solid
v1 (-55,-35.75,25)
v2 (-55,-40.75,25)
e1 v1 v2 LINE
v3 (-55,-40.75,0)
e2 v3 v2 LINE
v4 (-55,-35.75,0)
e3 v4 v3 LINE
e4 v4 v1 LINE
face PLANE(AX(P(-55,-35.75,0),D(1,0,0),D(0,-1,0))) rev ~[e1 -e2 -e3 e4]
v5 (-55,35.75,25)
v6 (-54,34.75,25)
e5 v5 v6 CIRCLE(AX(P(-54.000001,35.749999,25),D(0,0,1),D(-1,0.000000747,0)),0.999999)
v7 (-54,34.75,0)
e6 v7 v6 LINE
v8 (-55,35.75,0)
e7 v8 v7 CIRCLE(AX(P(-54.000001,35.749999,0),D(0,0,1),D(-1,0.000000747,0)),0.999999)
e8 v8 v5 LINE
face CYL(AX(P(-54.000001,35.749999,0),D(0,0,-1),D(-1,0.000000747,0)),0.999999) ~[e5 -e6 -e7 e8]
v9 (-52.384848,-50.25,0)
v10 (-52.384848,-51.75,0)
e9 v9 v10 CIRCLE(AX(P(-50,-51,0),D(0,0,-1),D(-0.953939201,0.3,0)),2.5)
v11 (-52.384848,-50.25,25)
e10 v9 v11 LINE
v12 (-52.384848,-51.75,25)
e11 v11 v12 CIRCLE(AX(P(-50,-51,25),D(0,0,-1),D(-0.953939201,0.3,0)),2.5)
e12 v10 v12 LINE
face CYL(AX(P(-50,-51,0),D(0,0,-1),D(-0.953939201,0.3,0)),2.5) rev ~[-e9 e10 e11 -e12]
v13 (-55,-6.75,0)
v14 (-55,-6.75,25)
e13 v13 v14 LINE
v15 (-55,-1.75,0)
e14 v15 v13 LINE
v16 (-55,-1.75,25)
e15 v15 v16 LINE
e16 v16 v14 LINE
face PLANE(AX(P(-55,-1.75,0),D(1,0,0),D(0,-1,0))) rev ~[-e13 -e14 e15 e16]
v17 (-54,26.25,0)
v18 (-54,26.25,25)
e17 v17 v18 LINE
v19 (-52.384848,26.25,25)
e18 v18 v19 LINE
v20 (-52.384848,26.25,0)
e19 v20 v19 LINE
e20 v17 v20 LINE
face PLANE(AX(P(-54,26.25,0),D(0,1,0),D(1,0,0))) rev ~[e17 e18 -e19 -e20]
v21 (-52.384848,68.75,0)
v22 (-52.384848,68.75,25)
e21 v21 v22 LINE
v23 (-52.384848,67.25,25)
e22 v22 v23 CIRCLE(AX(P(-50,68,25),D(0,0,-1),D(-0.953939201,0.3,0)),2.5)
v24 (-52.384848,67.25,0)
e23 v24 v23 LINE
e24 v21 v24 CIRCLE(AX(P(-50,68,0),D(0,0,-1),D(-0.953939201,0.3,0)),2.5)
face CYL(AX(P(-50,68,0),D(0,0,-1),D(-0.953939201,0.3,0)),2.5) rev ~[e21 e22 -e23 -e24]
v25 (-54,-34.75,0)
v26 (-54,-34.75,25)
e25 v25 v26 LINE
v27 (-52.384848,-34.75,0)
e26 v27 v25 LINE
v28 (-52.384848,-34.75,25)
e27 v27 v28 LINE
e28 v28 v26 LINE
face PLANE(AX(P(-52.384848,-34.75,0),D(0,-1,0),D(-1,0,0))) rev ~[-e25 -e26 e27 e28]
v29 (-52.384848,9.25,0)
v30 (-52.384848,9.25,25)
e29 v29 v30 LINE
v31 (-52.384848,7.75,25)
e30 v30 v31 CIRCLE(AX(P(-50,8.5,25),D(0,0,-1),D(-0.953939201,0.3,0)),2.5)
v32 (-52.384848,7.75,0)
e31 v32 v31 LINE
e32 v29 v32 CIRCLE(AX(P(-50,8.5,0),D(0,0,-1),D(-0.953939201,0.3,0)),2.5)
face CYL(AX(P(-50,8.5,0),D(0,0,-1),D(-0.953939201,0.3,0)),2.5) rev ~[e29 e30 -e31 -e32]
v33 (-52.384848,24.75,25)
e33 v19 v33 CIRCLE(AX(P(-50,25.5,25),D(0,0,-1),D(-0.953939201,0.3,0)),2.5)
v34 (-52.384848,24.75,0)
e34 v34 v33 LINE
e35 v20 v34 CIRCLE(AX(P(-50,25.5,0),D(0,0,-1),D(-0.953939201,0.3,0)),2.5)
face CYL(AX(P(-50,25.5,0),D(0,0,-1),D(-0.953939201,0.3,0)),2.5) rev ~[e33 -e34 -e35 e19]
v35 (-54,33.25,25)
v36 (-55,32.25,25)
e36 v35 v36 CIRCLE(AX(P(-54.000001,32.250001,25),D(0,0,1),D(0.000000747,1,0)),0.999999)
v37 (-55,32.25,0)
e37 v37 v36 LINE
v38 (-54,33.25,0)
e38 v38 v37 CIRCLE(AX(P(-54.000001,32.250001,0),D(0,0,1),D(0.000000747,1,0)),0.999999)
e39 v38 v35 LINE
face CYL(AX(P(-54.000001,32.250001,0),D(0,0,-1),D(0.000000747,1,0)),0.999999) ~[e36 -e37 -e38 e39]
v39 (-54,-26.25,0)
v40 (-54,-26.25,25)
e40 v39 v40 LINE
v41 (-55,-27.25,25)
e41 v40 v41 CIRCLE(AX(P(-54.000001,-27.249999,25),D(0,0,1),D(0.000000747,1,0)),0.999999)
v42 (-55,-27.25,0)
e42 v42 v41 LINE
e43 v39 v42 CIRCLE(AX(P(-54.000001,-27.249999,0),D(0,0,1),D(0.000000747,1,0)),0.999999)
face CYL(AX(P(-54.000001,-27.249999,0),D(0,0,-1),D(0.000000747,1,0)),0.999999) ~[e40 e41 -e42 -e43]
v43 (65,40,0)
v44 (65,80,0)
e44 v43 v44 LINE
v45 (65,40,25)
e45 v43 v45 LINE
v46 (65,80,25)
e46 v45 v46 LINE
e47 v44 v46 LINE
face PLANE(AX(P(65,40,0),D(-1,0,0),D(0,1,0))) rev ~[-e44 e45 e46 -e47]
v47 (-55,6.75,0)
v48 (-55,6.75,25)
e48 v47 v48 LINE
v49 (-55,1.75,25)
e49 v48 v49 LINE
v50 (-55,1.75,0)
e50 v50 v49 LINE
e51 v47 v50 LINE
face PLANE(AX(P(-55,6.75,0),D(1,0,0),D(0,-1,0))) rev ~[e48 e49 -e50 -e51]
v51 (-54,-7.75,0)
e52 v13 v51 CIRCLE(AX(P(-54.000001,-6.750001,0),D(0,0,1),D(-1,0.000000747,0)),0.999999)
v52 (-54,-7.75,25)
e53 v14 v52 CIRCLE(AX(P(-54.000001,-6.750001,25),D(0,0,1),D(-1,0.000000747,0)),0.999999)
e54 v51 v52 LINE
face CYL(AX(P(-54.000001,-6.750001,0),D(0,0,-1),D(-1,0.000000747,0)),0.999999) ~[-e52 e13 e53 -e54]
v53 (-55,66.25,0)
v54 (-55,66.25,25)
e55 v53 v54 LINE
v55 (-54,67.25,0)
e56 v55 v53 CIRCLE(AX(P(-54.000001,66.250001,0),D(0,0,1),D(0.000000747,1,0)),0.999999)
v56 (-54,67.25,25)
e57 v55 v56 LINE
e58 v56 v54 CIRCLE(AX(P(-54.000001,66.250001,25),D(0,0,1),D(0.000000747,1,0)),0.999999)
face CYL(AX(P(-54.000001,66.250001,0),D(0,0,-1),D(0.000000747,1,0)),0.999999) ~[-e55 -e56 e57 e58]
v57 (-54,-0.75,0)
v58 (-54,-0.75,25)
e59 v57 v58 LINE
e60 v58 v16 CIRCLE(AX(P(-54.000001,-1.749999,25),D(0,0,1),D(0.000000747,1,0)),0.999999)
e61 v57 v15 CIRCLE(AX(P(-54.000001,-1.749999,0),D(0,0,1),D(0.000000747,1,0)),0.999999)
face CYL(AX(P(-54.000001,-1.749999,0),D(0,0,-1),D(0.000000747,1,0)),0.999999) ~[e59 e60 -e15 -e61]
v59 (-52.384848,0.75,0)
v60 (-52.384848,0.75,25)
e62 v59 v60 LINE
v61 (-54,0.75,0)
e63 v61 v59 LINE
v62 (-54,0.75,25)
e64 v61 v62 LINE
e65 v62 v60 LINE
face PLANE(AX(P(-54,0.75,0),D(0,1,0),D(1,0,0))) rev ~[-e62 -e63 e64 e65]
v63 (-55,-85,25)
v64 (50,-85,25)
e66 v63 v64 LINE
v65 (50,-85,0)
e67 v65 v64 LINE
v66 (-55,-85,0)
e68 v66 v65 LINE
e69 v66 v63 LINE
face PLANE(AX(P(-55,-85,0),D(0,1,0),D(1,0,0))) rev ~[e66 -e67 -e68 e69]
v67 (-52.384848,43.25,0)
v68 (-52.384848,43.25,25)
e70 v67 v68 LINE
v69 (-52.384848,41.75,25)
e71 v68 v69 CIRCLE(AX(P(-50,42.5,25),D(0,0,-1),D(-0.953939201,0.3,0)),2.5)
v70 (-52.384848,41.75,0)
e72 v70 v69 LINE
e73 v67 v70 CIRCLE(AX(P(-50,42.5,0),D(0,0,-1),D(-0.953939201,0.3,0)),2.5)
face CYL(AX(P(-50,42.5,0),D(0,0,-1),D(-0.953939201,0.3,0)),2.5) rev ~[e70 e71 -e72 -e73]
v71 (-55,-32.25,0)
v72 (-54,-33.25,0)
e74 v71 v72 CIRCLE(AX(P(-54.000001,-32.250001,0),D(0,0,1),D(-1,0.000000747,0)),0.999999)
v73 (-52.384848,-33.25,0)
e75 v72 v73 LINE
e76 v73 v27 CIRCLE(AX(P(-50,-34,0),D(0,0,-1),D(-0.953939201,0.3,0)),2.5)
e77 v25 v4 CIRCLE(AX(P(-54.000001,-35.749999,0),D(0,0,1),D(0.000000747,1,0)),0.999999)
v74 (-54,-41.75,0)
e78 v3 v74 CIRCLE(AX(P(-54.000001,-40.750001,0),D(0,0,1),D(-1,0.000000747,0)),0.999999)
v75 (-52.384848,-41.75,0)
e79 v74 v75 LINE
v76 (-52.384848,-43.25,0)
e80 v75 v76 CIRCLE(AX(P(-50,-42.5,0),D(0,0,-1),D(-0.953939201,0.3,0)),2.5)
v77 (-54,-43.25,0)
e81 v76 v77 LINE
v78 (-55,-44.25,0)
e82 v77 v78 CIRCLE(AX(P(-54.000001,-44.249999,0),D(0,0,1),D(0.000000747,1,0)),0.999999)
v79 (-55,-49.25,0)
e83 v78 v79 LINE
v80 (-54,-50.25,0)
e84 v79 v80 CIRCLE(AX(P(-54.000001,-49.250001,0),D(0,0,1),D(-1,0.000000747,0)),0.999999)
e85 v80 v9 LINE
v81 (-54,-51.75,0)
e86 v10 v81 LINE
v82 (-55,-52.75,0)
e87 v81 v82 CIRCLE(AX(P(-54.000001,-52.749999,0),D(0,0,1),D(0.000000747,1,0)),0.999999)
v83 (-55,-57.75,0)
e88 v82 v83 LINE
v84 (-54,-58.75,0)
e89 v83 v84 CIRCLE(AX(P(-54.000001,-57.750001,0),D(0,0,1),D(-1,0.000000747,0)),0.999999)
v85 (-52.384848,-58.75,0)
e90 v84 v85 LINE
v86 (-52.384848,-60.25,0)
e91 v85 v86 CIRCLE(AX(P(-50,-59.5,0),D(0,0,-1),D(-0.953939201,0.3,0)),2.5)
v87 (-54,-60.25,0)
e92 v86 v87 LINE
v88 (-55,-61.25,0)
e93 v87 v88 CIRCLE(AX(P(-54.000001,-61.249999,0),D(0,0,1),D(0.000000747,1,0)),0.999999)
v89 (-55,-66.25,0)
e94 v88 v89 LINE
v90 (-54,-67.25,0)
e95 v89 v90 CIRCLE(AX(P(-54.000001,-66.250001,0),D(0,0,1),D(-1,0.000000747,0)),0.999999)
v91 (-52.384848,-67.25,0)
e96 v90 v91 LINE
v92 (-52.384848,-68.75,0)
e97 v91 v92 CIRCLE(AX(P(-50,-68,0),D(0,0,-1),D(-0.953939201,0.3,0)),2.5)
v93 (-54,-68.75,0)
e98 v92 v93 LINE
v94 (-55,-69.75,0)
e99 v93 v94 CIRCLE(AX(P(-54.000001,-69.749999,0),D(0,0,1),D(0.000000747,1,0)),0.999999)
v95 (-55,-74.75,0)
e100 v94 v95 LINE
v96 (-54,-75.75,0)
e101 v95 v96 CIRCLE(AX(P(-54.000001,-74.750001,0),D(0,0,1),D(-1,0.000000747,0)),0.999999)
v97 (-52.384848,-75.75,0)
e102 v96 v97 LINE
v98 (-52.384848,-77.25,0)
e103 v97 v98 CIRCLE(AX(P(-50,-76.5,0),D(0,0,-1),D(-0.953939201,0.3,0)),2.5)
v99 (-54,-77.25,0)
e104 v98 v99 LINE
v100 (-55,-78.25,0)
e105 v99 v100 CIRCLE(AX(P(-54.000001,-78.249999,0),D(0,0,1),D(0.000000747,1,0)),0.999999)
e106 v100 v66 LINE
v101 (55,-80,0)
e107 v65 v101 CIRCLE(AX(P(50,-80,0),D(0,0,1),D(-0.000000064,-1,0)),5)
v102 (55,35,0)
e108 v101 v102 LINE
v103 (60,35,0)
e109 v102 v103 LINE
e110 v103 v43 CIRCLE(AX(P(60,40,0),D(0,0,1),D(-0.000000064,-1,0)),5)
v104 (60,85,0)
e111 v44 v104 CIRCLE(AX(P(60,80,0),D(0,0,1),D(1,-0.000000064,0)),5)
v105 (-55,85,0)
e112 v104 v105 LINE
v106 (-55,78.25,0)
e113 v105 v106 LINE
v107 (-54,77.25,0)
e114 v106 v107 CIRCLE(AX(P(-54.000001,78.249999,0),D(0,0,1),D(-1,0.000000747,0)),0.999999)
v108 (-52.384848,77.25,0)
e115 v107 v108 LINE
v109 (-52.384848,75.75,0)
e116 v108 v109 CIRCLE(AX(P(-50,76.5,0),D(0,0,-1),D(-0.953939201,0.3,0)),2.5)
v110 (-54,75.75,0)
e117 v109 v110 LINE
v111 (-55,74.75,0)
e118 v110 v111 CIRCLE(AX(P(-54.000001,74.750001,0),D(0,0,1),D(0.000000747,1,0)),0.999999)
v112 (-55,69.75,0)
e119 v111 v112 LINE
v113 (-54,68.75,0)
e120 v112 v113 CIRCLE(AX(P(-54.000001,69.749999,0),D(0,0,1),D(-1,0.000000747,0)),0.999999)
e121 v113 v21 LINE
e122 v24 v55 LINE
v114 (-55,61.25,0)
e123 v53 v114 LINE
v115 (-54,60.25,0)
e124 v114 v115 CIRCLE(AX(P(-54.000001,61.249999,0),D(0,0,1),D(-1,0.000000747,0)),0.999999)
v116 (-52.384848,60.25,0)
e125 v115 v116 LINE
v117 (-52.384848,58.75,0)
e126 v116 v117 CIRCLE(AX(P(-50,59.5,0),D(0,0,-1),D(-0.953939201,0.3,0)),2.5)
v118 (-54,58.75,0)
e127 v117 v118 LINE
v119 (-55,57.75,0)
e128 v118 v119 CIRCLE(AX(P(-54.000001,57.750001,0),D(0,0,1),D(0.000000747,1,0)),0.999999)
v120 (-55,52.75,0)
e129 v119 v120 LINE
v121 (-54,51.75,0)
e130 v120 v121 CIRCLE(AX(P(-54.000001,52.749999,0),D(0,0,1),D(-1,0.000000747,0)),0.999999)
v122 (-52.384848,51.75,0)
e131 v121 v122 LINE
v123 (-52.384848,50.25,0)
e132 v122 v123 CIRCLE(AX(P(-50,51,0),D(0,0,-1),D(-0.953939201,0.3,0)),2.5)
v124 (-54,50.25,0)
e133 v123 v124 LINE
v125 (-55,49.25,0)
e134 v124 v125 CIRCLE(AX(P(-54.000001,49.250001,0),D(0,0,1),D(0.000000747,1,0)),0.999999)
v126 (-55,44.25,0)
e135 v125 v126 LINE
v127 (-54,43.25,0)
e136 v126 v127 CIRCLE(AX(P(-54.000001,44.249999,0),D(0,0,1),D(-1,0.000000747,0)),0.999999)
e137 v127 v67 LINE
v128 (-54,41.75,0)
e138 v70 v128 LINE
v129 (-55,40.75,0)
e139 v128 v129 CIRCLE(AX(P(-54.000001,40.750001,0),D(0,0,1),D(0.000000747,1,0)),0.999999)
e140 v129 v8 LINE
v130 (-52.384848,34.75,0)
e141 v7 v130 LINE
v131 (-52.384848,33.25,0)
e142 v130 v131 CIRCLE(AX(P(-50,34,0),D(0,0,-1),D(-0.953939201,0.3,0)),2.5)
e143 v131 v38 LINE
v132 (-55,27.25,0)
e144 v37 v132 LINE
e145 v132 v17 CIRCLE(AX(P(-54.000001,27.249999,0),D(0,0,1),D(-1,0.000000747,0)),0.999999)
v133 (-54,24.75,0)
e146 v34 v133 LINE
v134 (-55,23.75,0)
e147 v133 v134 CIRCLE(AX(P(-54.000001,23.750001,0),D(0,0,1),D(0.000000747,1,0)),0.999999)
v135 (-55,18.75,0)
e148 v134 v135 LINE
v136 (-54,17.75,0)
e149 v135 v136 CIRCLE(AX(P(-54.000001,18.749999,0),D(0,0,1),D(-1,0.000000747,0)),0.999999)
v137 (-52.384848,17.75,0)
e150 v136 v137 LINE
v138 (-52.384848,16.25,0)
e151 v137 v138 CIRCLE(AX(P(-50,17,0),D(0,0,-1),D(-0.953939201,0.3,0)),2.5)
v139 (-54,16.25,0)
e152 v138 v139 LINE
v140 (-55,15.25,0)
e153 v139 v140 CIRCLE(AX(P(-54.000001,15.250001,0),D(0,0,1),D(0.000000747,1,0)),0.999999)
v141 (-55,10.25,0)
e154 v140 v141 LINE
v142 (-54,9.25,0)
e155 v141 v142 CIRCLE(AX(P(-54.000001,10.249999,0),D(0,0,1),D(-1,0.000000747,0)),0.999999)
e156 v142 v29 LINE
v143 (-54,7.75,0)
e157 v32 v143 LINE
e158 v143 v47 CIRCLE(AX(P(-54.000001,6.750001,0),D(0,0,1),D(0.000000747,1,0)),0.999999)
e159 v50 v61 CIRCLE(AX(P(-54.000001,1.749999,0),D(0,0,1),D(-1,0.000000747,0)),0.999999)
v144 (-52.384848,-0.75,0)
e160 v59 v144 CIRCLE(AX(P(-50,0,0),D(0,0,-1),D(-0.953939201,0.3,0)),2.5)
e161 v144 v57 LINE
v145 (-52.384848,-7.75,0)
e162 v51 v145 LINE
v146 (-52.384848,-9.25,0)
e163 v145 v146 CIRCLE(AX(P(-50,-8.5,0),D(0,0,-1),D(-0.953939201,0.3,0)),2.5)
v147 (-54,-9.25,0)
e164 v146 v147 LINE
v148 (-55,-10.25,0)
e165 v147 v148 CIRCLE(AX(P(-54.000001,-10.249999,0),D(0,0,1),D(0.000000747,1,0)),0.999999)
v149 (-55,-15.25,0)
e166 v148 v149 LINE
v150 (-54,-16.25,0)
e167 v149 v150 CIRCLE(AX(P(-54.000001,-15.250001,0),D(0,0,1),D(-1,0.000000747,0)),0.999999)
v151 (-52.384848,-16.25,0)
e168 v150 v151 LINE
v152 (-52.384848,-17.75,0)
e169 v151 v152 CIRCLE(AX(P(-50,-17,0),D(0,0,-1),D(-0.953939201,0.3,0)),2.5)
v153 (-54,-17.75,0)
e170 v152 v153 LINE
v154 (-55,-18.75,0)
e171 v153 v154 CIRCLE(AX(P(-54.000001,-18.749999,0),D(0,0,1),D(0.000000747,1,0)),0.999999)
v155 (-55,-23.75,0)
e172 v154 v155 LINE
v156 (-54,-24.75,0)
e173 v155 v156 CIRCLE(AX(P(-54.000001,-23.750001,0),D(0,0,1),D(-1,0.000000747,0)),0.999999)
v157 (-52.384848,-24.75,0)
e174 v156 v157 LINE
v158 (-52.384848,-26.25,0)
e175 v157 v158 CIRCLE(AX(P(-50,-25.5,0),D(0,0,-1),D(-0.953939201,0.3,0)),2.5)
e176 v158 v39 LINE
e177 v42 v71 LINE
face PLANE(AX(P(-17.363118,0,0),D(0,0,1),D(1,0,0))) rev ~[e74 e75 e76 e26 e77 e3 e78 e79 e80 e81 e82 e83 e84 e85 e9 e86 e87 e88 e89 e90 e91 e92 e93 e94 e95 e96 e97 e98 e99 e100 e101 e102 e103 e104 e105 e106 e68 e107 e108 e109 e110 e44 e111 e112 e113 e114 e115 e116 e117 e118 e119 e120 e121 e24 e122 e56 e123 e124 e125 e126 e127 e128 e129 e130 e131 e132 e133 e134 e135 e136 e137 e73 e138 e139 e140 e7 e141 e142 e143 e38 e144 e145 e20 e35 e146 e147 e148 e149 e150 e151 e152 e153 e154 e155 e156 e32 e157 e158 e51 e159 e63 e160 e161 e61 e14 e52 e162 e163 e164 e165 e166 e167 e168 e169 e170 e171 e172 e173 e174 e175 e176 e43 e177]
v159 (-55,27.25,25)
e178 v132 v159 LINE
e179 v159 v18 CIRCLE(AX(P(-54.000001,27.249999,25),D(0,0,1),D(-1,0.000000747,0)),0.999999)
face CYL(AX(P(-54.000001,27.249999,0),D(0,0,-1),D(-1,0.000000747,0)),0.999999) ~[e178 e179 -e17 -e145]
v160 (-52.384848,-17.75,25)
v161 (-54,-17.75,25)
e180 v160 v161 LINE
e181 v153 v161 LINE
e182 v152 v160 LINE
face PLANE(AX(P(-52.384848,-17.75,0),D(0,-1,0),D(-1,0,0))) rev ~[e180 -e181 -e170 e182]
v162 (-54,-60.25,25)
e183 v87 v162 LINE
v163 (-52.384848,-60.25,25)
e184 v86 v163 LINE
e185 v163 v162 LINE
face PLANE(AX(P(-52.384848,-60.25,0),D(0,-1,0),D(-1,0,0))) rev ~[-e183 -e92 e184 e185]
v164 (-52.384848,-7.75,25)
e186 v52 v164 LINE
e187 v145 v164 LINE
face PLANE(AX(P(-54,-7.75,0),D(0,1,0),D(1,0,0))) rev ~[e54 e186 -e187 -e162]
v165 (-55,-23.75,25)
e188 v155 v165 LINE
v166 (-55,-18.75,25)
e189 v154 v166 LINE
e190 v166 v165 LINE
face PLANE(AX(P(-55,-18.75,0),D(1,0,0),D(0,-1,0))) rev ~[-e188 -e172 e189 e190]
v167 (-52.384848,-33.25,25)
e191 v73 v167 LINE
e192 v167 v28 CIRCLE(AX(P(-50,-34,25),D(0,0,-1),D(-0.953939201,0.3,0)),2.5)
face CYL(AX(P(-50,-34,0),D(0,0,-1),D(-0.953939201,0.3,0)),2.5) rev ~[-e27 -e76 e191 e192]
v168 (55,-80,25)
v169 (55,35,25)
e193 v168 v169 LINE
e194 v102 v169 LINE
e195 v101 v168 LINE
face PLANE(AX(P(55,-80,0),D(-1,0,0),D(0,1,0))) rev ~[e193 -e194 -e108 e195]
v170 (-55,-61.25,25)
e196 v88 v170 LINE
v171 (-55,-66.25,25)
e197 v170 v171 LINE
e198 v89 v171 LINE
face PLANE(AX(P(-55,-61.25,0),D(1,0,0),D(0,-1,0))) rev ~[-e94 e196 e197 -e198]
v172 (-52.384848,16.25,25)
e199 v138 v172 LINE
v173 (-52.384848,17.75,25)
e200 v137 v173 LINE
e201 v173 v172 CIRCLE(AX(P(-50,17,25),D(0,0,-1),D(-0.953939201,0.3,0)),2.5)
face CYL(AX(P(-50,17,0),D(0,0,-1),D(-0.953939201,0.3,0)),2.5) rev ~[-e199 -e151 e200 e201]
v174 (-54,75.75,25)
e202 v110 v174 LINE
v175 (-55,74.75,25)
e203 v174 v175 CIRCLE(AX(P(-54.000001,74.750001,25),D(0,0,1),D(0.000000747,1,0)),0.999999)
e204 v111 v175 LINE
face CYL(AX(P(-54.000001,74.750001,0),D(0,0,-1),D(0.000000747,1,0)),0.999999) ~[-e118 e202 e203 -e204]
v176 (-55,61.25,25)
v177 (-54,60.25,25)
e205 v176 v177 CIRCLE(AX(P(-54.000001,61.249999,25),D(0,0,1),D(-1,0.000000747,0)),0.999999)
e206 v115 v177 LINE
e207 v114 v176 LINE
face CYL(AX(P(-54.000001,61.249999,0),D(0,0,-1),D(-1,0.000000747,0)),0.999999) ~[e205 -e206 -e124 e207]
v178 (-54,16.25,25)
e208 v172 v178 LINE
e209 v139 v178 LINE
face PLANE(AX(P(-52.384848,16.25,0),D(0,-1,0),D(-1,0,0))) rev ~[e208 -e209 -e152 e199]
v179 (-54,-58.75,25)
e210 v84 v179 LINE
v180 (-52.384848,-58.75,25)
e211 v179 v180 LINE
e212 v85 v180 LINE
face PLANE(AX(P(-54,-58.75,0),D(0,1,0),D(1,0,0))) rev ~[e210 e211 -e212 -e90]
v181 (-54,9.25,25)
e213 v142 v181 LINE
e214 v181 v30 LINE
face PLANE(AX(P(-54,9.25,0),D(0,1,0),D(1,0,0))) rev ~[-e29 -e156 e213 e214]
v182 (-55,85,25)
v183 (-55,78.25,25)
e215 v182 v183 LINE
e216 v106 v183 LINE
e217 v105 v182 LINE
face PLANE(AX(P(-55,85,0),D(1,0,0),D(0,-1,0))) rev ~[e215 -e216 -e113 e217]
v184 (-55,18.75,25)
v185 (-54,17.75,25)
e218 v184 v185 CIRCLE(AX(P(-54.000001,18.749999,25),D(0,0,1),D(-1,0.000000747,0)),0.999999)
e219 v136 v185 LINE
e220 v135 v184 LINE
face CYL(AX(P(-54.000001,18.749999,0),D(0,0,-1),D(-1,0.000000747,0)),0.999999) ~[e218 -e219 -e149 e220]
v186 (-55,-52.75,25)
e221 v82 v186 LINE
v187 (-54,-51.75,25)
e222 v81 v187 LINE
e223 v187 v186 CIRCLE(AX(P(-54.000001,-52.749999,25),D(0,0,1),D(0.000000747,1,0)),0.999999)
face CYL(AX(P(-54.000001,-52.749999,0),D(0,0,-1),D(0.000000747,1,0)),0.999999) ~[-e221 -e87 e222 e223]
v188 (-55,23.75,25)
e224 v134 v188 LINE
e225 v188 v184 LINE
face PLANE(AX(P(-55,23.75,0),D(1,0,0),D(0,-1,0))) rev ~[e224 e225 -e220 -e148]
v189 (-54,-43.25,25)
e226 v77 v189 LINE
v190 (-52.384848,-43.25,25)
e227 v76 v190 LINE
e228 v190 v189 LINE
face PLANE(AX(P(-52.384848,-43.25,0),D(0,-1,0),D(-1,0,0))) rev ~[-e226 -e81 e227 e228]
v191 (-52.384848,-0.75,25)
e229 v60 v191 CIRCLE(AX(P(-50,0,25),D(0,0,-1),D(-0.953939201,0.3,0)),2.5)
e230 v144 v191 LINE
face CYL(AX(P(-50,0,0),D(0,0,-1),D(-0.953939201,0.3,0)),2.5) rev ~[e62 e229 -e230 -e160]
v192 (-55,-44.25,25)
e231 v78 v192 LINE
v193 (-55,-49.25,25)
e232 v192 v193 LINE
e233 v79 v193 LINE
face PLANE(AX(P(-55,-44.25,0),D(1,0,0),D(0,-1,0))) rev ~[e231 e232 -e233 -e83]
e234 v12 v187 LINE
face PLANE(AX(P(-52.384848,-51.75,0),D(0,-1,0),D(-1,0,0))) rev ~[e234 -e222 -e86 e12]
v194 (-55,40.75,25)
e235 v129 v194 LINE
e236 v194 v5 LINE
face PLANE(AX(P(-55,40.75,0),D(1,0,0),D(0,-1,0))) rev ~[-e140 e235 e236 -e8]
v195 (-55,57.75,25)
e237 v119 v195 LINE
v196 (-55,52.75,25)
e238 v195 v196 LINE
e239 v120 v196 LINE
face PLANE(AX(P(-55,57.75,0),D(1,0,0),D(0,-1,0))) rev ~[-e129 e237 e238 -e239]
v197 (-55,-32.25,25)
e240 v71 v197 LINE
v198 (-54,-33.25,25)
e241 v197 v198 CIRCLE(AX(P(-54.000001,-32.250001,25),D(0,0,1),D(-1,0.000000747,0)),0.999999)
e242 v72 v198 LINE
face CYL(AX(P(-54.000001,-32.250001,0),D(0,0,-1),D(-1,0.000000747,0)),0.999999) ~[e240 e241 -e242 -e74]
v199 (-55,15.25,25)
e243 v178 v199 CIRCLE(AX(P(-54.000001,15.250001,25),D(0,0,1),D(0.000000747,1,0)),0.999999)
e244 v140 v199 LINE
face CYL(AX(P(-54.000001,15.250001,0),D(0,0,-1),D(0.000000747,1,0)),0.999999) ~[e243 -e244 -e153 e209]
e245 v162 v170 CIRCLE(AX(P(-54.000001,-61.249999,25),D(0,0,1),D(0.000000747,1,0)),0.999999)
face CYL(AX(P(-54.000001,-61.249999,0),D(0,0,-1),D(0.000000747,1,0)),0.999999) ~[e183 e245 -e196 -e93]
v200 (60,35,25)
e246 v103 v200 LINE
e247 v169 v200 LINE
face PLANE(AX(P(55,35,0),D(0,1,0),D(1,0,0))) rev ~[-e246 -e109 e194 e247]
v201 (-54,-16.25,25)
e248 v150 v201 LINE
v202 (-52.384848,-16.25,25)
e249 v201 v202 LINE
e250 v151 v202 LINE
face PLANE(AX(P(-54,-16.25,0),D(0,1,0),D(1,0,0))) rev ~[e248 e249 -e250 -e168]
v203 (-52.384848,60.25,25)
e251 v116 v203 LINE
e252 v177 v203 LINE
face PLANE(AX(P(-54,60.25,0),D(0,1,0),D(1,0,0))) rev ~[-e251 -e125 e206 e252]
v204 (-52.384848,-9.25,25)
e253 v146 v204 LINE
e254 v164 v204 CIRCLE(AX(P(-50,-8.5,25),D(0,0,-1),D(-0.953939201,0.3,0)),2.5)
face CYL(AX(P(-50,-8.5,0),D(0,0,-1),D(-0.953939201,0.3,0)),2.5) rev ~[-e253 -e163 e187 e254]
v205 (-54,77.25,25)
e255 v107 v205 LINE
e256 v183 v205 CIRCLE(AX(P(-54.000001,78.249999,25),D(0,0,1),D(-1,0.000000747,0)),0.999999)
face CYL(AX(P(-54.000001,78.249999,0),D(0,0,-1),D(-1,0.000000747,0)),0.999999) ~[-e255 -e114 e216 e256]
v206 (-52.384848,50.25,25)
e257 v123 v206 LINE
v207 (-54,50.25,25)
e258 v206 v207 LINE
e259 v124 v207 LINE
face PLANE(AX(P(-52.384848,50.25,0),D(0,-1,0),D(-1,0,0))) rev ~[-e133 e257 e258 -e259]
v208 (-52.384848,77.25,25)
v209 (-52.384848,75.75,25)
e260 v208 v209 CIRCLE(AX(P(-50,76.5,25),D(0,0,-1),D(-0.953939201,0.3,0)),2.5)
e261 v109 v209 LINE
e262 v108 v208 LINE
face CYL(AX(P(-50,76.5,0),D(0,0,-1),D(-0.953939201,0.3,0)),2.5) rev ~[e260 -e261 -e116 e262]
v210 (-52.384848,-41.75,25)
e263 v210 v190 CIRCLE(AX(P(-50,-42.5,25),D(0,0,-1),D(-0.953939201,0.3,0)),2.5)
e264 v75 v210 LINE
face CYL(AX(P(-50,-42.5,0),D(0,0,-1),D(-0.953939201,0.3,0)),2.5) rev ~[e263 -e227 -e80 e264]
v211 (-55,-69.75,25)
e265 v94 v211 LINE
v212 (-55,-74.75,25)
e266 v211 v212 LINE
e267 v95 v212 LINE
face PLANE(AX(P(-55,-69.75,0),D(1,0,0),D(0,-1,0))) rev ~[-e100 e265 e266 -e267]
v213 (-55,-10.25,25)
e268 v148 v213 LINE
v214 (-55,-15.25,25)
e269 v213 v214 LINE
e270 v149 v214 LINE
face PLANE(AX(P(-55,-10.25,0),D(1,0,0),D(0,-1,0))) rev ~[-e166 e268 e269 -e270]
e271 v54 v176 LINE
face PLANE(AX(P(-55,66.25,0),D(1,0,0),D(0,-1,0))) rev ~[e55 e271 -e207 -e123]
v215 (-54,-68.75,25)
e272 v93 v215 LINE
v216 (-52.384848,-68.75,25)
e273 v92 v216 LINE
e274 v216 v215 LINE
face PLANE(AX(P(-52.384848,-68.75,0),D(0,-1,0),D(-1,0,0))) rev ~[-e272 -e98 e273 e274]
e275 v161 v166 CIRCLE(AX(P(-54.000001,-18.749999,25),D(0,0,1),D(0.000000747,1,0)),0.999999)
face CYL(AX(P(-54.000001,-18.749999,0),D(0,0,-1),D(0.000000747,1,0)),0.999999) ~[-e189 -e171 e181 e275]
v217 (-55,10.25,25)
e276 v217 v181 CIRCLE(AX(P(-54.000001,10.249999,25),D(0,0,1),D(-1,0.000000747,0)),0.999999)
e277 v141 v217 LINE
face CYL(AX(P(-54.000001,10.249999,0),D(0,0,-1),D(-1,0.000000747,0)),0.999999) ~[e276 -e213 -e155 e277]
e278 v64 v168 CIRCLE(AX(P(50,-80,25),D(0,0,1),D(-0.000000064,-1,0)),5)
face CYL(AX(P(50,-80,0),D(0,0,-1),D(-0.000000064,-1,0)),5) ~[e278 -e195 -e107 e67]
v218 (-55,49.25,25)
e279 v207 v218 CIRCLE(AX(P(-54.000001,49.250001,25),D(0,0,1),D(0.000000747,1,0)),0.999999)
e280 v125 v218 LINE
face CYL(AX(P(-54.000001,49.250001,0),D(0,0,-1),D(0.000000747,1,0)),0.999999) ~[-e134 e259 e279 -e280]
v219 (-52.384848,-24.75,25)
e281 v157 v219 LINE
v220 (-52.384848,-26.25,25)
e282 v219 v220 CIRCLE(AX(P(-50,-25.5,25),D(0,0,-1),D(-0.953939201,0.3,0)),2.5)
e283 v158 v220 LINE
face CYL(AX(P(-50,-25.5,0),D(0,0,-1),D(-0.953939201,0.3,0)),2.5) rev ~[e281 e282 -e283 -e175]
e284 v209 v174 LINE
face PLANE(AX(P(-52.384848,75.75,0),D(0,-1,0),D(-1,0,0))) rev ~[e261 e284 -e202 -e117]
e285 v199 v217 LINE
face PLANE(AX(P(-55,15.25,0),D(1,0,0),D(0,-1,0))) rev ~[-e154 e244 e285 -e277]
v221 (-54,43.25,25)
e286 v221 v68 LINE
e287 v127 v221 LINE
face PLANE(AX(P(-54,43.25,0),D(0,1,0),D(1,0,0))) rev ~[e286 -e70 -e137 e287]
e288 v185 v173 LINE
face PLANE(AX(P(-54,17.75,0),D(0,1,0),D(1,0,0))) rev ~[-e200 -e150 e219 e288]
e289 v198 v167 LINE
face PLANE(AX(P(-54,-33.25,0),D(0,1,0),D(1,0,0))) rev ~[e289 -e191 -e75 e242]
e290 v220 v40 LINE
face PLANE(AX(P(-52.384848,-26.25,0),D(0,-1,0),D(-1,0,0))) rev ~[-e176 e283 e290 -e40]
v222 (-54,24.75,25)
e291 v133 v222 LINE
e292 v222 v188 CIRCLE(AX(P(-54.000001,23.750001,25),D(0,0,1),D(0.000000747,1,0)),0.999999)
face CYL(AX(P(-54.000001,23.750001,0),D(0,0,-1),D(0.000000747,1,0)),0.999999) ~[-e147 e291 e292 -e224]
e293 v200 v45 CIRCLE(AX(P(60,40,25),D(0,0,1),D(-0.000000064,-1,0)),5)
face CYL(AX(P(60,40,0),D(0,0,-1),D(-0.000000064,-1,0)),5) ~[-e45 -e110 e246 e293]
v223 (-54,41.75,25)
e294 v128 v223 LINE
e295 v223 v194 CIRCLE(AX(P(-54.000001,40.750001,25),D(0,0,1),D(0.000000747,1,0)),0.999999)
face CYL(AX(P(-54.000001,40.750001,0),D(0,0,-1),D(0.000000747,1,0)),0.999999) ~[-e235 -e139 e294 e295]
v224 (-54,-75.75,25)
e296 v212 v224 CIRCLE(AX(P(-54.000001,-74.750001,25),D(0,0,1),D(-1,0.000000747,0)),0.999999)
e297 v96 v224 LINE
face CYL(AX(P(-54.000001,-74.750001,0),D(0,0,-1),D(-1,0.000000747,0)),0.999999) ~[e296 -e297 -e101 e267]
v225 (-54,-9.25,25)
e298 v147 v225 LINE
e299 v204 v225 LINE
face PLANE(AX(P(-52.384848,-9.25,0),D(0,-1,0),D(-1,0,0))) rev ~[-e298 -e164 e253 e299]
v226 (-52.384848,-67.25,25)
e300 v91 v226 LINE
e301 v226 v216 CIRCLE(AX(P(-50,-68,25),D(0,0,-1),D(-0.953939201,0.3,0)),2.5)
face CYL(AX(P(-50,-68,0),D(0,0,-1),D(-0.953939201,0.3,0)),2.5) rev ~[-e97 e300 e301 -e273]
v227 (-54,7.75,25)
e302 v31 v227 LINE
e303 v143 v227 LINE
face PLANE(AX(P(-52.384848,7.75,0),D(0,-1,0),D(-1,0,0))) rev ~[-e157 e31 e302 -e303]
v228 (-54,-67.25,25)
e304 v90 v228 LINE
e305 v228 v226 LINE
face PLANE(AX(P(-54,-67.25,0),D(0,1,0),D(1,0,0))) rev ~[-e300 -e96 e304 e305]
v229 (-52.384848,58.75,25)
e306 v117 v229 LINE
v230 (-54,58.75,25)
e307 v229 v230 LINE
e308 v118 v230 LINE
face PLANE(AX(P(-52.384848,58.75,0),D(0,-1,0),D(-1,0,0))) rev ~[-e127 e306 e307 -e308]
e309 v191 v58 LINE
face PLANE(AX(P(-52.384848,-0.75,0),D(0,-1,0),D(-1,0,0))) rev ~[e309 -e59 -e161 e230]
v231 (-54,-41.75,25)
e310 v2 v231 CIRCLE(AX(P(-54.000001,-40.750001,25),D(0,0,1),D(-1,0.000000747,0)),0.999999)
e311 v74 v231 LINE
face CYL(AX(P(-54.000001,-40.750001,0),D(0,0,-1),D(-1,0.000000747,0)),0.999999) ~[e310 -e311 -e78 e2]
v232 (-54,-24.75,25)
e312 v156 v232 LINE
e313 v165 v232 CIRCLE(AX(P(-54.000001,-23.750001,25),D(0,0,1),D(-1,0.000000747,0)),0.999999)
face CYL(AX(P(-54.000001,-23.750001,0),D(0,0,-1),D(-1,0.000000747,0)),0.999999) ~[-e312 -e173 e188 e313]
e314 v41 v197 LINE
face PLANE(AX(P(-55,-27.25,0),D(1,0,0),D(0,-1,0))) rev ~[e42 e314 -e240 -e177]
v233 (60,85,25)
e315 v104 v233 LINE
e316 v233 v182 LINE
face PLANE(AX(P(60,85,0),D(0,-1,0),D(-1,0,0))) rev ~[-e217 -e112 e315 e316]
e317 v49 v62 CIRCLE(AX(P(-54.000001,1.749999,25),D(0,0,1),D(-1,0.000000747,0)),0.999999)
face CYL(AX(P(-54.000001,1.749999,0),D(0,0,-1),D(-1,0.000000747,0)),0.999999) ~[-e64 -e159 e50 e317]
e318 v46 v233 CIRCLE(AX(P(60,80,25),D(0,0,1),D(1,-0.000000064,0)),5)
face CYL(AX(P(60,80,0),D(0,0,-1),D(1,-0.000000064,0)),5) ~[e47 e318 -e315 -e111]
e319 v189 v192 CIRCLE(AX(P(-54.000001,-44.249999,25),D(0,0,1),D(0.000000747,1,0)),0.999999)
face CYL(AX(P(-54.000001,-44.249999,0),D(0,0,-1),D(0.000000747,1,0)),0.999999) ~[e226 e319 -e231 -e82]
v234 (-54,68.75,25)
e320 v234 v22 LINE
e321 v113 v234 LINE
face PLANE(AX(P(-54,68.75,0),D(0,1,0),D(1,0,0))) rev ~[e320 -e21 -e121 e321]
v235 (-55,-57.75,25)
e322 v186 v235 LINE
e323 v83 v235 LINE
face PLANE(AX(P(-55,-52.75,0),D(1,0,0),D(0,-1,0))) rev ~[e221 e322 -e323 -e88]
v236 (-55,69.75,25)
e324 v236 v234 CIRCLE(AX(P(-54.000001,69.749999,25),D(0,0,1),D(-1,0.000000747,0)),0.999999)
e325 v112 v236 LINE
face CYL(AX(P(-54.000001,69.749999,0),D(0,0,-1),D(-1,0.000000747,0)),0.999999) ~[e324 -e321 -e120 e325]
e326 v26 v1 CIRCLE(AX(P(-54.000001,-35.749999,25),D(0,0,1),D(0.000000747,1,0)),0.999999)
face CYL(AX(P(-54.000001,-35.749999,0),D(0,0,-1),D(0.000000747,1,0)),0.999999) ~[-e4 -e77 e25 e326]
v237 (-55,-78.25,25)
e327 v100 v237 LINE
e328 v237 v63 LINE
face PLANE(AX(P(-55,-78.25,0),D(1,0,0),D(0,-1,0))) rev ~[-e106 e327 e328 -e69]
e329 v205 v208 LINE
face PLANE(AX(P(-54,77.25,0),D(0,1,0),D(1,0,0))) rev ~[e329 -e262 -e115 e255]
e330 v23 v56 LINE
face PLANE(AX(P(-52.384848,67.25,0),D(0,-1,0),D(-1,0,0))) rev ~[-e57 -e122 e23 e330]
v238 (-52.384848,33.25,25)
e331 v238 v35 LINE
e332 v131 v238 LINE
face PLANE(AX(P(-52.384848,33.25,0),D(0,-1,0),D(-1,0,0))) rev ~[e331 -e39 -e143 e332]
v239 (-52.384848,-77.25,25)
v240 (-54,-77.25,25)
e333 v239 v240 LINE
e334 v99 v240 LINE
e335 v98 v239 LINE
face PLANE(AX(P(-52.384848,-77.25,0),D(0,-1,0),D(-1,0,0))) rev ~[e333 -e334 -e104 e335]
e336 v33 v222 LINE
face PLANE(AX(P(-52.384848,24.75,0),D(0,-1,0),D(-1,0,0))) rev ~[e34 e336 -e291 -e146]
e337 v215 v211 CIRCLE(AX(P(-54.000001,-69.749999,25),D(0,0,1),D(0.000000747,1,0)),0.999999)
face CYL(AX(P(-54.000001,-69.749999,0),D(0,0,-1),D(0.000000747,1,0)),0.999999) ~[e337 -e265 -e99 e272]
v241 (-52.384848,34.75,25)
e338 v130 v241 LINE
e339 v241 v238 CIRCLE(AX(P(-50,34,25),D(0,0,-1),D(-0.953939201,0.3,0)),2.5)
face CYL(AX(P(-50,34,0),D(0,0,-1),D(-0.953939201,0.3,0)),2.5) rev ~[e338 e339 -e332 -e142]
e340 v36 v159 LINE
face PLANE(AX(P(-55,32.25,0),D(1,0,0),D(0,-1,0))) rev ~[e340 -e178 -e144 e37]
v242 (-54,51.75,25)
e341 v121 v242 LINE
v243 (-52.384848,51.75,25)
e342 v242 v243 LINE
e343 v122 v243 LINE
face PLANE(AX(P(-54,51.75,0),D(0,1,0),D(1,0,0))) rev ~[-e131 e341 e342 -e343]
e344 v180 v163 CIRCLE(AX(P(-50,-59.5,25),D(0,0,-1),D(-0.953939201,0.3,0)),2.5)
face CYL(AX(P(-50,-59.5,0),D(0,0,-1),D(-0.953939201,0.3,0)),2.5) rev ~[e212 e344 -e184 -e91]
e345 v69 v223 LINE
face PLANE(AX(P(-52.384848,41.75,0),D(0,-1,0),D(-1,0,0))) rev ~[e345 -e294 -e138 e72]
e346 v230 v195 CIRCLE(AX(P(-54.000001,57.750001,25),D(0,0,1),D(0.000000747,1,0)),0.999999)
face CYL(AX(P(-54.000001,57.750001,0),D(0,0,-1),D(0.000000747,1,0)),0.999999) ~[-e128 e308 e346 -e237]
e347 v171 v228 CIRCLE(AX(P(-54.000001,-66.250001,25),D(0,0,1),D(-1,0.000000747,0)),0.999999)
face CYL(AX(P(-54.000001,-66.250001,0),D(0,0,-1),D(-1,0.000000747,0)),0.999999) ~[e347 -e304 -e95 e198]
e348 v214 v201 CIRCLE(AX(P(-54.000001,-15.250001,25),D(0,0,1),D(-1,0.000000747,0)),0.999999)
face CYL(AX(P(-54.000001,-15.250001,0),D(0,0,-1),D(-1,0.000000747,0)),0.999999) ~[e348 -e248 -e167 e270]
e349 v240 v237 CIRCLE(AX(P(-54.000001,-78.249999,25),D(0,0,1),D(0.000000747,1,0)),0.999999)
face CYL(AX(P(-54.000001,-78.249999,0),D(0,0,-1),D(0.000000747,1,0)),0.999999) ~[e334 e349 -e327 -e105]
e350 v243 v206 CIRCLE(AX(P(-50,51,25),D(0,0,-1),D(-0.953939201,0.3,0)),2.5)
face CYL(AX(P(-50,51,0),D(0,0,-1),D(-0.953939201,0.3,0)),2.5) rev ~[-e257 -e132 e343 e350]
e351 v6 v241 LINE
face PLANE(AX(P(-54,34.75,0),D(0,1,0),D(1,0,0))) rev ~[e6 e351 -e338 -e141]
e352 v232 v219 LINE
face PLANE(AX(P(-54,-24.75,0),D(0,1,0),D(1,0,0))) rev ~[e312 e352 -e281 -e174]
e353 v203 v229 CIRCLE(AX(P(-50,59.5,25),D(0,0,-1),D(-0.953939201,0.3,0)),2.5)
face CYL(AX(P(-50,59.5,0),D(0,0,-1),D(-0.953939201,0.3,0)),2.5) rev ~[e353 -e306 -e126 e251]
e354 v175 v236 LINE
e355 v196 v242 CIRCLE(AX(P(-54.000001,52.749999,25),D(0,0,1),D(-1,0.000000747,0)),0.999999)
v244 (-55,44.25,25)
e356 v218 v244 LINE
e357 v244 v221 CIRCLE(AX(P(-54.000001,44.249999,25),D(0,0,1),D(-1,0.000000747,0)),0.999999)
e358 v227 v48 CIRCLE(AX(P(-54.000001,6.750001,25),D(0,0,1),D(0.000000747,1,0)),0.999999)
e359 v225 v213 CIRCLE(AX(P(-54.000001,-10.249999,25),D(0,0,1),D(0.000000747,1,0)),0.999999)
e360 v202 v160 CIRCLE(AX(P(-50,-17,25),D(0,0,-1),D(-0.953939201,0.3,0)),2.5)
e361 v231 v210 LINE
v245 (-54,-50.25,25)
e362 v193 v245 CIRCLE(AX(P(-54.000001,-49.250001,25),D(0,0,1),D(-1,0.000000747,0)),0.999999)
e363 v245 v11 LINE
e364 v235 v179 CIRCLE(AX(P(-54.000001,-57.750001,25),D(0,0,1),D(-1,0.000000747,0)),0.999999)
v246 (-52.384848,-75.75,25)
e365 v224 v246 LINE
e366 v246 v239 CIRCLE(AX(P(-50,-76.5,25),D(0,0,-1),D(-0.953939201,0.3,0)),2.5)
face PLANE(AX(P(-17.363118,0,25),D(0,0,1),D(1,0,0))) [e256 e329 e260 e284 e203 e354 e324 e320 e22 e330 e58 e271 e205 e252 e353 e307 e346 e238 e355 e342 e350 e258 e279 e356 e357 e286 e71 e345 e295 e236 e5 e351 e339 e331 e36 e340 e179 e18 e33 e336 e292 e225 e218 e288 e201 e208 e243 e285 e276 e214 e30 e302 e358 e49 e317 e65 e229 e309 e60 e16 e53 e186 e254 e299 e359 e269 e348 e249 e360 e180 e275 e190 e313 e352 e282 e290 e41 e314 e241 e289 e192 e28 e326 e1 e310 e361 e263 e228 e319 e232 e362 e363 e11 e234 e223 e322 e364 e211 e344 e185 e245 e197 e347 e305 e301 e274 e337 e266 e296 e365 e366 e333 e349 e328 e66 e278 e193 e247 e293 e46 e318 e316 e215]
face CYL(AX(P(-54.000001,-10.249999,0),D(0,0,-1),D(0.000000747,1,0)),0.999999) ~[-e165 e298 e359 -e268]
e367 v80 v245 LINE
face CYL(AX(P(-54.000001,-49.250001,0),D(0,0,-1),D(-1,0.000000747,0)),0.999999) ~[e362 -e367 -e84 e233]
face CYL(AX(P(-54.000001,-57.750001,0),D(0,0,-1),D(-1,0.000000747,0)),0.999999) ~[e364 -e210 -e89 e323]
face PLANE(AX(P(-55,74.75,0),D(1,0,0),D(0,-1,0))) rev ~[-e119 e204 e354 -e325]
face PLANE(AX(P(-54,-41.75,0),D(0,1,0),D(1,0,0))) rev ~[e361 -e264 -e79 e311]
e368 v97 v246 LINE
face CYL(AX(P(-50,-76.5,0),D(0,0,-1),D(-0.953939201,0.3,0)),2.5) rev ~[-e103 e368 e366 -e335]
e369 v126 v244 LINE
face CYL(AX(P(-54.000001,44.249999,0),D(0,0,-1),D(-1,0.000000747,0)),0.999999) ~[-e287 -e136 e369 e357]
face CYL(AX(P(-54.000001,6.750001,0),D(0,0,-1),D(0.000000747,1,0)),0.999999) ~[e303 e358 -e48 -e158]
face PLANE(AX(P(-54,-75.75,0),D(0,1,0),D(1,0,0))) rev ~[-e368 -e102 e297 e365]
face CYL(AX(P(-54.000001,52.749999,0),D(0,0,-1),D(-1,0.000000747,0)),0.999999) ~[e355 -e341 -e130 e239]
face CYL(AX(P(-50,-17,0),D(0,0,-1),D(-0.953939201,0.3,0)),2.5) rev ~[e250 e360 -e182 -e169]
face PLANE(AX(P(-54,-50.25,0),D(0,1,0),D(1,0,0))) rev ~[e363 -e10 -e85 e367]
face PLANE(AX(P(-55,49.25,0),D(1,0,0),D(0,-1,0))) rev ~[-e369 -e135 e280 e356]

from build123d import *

# Parameters (mm, degrees)
F1_DEPTH = 25


with BuildPart() as f1:
    # F0 (on Top) → F1 (new body)
    with BuildSketch(Plane.XY):
        with BuildLine():
            Line((50, 85), (-55, 85))
            Line((-55, 85), (-55, 78.25))
            ThreePointArc((-55, 78.25), (-54.707107, 77.542893), (-54, 77.25))
            Line((-54, 77.25), (-52.384848, 77.25))
            ThreePointArc((-52.384848, 77.25), (-47.5, 76.5), (-52.384848, 75.75))
            Line((-52.384848, 75.75), (-54, 75.75))
            ThreePointArc((-54, 75.75), (-54.707107, 75.457107), (-55, 74.75))
            Line((-55, 74.75), (-55, 69.75))
            ThreePointArc((-55, 69.75), (-54.707107, 69.042893), (-54, 68.75))
            Line((-54, 68.75), (-52.384848, 68.75))
            ThreePointArc((-52.384848, 68.75), (-47.5, 68), (-52.384848, 67.25))
            Line((-52.384848, 67.25), (-54, 67.25))
            ThreePointArc((-54, 67.25), (-54.707107, 66.957107), (-55, 66.25))
            Line((-55, 66.25), (-55, 61.25))
            ThreePointArc((-55, 61.25), (-54.707107, 60.542893), (-54, 60.25))
            Line((-54, 60.25), (-52.384848, 60.25))
            ThreePointArc((-52.384848, 60.25), (-47.5, 59.5), (-52.384848, 58.75))
            Line((-52.384848, 58.75), (-54, 58.75))
            ThreePointArc((-54, 58.75), (-54.707107, 58.457107), (-55, 57.75))
            Line((-55, 57.75), (-55, 52.75))
            ThreePointArc((-55, 52.75), (-54.707107, 52.042893), (-54, 51.75))
            Line((-54, 51.75), (-52.384848, 51.75))
            ThreePointArc((-52.384848, 51.75), (-47.5, 51), (-52.384848, 50.25))
            Line((-52.384848, 50.25), (-54, 50.25))
            ThreePointArc((-54, 50.25), (-54.707107, 49.957107), (-55, 49.25))
            Line((-55, 49.25), (-55, 44.25))
            ThreePointArc((-55, 44.25), (-54.707107, 43.542893), (-54, 43.25))
            Line((-54, 43.25), (-52.384848, 43.25))
            ThreePointArc((-52.384848, 43.25), (-47.5, 42.5), (-52.384848, 41.75))
            Line((-52.384848, 41.75), (-54, 41.75))
            ThreePointArc((-54, 41.75), (-54.707107, 41.457107), (-55, 40.75))
            Line((-55, 40.75), (-55, 35.75))
            ThreePointArc((-55, 35.75), (-54.707107, 35.042893), (-54, 34.75))
            Line((-54, 34.75), (-52.384848, 34.75))
            ThreePointArc((-52.384848, 34.75), (-47.5, 34), (-52.384848, 33.25))
            Line((-52.384848, 33.25), (-54, 33.25))
            ThreePointArc((-54, 33.25), (-54.707107, 32.957107), (-55, 32.25))
            Line((-55, 32.25), (-55, 27.25))
            ThreePointArc((-55, 27.25), (-54.707107, 26.542893), (-54, 26.25))
            Line((-54, 26.25), (-52.384848, 26.25))
            ThreePointArc((-52.384848, 26.25), (-47.5, 25.5), (-52.384848, 24.75))
            Line((-52.384848, 24.75), (-54, 24.75))
            ThreePointArc((-54, 24.75), (-54.707107, 24.457107), (-55, 23.75))
            Line((-55, 23.75), (-55, 18.75))
            ThreePointArc((-55, 18.75), (-54.707107, 18.042893), (-54, 17.75))
            Line((-54, 17.75), (-52.384848, 17.75))
            ThreePointArc((-52.384848, 17.75), (-47.5, 17), (-52.384848, 16.25))
            Line((-52.384848, 16.25), (-54, 16.25))
            ThreePointArc((-54, 16.25), (-54.707107, 15.957107), (-55, 15.25))
            Line((-55, 15.25), (-55, 10.25))
            ThreePointArc((-55, 10.25), (-54.707107, 9.542893), (-54, 9.25))
            Line((-54, 9.25), (-52.384848, 9.25))
            ThreePointArc((-52.384848, 9.25), (-47.5, 8.5), (-52.384848, 7.75))
            Line((-52.384848, 7.75), (-54, 7.75))
            ThreePointArc((-54, 7.75), (-54.707107, 7.457107), (-55, 6.75))
            Line((-55, 6.75), (-55, 1.75))
            ThreePointArc((-55, 1.75), (-54.707107, 1.042893), (-54, 0.75))
            Line((-54, 0.75), (-52.384848, 0.75))
            ThreePointArc((-52.384848, 0.75), (-47.5, 0), (-52.384848, -0.75))
            Line((-52.384848, -0.75), (-54, -0.75))
            ThreePointArc((-54, -0.75), (-54.707107, -1.042893), (-55, -1.75))
            Line((-55, -1.75), (-55, -6.75))
            ThreePointArc((-55, -6.75), (-54.707107, -7.457107), (-54, -7.75))
            Line((-54, -7.75), (-52.384848, -7.75))
            ThreePointArc((-52.384848, -7.75), (-47.5, -8.5), (-52.384848, -9.25))
            Line((-52.384848, -9.25), (-54, -9.25))
            ThreePointArc((-54, -9.25), (-54.707107, -9.542893), (-55, -10.25))
            Line((-55, -10.25), (-55, -15.25))
            ThreePointArc((-55, -15.25), (-54.707107, -15.957107), (-54, -16.25))
            Line((-54, -16.25), (-52.384848, -16.25))
            ThreePointArc((-52.384848, -16.25), (-47.5, -17), (-52.384848, -17.75))
            Line((-52.384848, -17.75), (-54, -17.75))
            ThreePointArc((-54, -17.75), (-54.707107, -18.042893), (-55, -18.75))
            Line((-55, -18.75), (-55, -23.75))
            ThreePointArc((-55, -23.75), (-54.707107, -24.457107), (-54, -24.75))
            Line((-54, -24.75), (-52.384848, -24.75))
            ThreePointArc((-52.384848, -24.75), (-47.5, -25.5), (-52.384848, -26.25))
            Line((-52.384848, -26.25), (-54, -26.25))
            ThreePointArc((-54, -26.25), (-54.707107, -26.542893), (-55, -27.25))
            Line((-55, -27.25), (-55, -32.25))
            ThreePointArc((-55, -32.25), (-54.707107, -32.957107), (-54, -33.25))
            Line((-54, -33.25), (-52.384848, -33.25))
            ThreePointArc((-52.384848, -33.25), (-47.5, -34), (-52.384848, -34.75))
            Line((-52.384848, -34.75), (-54, -34.75))
            ThreePointArc((-54, -34.75), (-54.707107, -35.042893), (-55, -35.75))
            Line((-55, -35.75), (-55, -40.75))
            ThreePointArc((-55, -40.75), (-54.707107, -41.457107), (-54, -41.75))
            Line((-54, -41.75), (-52.384848, -41.75))
            ThreePointArc((-52.384848, -41.75), (-47.5, -42.5), (-52.384848, -43.25))
            Line((-52.384848, -43.25), (-54, -43.25))
            ThreePointArc((-54, -43.25), (-54.707107, -43.542893), (-55, -44.25))
            Line((-55, -44.25), (-55, -49.25))
            ThreePointArc((-55, -49.25), (-54.707107, -49.957107), (-54, -50.25))
            Line((-54, -50.25), (-52.384848, -50.25))
            ThreePointArc((-52.384848, -50.25), (-47.5, -51), (-52.384848, -51.75))
            Line((-52.384848, -51.75), (-54, -51.75))
            ThreePointArc((-54, -51.75), (-54.707107, -52.042893), (-55, -52.75))
            Line((-55, -52.75), (-55, -57.75))
            ThreePointArc((-55, -57.75), (-54.707107, -58.457107), (-54, -58.75))
            Line((-54, -58.75), (-52.384848, -58.75))
            ThreePointArc((-52.384848, -58.75), (-47.5, -59.5), (-52.384848, -60.25))
            Line((-52.384848, -60.25), (-54, -60.25))
            ThreePointArc((-54, -60.25), (-54.707107, -60.542893), (-55, -61.25))
            Line((-55, -61.25), (-55, -66.25))
            ThreePointArc((-55, -66.25), (-54.707107, -66.957107), (-54, -67.25))
            Line((-54, -67.25), (-52.384848, -67.25))
            ThreePointArc((-52.384848, -67.25), (-47.5, -68), (-52.384848, -68.75))
            Line((-52.384848, -68.75), (-54, -68.75))
            ThreePointArc((-54, -68.75), (-54.707107, -69.042893), (-55, -69.75))
            Line((-55, -69.75), (-55, -74.75))
            ThreePointArc((-55, -74.75), (-54.707107, -75.457107), (-54, -75.75))
            Line((-54, -75.75), (-52.384848, -75.75))
            ThreePointArc((-52.384848, -75.75), (-47.5, -76.5), (-52.384848, -77.25))
            Line((-52.384848, -77.25), (-54, -77.25))
            ThreePointArc((-54, -77.25), (-54.707107, -77.542893), (-55, -78.25))
            Line((-55, -78.25), (-55, -85))
            Line((-55, -85), (50, -85))
            ThreePointArc((50, -85), (53.535534, -83.535534), (55, -80))
            Line((55, -80), (55, 35))
            Line((55, 35), (55, 80))
            ThreePointArc((55, 80), (53.535534, 83.535534), (50, 85))
        make_face()
        with BuildLine():
            Line((60, 85), (50, 85))
            ThreePointArc((50, 85), (53.535534, 83.535534), (55, 80))
            Line((55, 80), (55, 35))
            Line((55, 35), (60, 35))
            ThreePointArc((60, 35), (63.535534, 36.464466), (65, 40))
            Line((65, 40), (65, 80))
            ThreePointArc((65, 80), (63.535534, 83.535534), (60, 85))
        make_face()
    extrude(amount=F1_DEPTH)


solid = f1.part
